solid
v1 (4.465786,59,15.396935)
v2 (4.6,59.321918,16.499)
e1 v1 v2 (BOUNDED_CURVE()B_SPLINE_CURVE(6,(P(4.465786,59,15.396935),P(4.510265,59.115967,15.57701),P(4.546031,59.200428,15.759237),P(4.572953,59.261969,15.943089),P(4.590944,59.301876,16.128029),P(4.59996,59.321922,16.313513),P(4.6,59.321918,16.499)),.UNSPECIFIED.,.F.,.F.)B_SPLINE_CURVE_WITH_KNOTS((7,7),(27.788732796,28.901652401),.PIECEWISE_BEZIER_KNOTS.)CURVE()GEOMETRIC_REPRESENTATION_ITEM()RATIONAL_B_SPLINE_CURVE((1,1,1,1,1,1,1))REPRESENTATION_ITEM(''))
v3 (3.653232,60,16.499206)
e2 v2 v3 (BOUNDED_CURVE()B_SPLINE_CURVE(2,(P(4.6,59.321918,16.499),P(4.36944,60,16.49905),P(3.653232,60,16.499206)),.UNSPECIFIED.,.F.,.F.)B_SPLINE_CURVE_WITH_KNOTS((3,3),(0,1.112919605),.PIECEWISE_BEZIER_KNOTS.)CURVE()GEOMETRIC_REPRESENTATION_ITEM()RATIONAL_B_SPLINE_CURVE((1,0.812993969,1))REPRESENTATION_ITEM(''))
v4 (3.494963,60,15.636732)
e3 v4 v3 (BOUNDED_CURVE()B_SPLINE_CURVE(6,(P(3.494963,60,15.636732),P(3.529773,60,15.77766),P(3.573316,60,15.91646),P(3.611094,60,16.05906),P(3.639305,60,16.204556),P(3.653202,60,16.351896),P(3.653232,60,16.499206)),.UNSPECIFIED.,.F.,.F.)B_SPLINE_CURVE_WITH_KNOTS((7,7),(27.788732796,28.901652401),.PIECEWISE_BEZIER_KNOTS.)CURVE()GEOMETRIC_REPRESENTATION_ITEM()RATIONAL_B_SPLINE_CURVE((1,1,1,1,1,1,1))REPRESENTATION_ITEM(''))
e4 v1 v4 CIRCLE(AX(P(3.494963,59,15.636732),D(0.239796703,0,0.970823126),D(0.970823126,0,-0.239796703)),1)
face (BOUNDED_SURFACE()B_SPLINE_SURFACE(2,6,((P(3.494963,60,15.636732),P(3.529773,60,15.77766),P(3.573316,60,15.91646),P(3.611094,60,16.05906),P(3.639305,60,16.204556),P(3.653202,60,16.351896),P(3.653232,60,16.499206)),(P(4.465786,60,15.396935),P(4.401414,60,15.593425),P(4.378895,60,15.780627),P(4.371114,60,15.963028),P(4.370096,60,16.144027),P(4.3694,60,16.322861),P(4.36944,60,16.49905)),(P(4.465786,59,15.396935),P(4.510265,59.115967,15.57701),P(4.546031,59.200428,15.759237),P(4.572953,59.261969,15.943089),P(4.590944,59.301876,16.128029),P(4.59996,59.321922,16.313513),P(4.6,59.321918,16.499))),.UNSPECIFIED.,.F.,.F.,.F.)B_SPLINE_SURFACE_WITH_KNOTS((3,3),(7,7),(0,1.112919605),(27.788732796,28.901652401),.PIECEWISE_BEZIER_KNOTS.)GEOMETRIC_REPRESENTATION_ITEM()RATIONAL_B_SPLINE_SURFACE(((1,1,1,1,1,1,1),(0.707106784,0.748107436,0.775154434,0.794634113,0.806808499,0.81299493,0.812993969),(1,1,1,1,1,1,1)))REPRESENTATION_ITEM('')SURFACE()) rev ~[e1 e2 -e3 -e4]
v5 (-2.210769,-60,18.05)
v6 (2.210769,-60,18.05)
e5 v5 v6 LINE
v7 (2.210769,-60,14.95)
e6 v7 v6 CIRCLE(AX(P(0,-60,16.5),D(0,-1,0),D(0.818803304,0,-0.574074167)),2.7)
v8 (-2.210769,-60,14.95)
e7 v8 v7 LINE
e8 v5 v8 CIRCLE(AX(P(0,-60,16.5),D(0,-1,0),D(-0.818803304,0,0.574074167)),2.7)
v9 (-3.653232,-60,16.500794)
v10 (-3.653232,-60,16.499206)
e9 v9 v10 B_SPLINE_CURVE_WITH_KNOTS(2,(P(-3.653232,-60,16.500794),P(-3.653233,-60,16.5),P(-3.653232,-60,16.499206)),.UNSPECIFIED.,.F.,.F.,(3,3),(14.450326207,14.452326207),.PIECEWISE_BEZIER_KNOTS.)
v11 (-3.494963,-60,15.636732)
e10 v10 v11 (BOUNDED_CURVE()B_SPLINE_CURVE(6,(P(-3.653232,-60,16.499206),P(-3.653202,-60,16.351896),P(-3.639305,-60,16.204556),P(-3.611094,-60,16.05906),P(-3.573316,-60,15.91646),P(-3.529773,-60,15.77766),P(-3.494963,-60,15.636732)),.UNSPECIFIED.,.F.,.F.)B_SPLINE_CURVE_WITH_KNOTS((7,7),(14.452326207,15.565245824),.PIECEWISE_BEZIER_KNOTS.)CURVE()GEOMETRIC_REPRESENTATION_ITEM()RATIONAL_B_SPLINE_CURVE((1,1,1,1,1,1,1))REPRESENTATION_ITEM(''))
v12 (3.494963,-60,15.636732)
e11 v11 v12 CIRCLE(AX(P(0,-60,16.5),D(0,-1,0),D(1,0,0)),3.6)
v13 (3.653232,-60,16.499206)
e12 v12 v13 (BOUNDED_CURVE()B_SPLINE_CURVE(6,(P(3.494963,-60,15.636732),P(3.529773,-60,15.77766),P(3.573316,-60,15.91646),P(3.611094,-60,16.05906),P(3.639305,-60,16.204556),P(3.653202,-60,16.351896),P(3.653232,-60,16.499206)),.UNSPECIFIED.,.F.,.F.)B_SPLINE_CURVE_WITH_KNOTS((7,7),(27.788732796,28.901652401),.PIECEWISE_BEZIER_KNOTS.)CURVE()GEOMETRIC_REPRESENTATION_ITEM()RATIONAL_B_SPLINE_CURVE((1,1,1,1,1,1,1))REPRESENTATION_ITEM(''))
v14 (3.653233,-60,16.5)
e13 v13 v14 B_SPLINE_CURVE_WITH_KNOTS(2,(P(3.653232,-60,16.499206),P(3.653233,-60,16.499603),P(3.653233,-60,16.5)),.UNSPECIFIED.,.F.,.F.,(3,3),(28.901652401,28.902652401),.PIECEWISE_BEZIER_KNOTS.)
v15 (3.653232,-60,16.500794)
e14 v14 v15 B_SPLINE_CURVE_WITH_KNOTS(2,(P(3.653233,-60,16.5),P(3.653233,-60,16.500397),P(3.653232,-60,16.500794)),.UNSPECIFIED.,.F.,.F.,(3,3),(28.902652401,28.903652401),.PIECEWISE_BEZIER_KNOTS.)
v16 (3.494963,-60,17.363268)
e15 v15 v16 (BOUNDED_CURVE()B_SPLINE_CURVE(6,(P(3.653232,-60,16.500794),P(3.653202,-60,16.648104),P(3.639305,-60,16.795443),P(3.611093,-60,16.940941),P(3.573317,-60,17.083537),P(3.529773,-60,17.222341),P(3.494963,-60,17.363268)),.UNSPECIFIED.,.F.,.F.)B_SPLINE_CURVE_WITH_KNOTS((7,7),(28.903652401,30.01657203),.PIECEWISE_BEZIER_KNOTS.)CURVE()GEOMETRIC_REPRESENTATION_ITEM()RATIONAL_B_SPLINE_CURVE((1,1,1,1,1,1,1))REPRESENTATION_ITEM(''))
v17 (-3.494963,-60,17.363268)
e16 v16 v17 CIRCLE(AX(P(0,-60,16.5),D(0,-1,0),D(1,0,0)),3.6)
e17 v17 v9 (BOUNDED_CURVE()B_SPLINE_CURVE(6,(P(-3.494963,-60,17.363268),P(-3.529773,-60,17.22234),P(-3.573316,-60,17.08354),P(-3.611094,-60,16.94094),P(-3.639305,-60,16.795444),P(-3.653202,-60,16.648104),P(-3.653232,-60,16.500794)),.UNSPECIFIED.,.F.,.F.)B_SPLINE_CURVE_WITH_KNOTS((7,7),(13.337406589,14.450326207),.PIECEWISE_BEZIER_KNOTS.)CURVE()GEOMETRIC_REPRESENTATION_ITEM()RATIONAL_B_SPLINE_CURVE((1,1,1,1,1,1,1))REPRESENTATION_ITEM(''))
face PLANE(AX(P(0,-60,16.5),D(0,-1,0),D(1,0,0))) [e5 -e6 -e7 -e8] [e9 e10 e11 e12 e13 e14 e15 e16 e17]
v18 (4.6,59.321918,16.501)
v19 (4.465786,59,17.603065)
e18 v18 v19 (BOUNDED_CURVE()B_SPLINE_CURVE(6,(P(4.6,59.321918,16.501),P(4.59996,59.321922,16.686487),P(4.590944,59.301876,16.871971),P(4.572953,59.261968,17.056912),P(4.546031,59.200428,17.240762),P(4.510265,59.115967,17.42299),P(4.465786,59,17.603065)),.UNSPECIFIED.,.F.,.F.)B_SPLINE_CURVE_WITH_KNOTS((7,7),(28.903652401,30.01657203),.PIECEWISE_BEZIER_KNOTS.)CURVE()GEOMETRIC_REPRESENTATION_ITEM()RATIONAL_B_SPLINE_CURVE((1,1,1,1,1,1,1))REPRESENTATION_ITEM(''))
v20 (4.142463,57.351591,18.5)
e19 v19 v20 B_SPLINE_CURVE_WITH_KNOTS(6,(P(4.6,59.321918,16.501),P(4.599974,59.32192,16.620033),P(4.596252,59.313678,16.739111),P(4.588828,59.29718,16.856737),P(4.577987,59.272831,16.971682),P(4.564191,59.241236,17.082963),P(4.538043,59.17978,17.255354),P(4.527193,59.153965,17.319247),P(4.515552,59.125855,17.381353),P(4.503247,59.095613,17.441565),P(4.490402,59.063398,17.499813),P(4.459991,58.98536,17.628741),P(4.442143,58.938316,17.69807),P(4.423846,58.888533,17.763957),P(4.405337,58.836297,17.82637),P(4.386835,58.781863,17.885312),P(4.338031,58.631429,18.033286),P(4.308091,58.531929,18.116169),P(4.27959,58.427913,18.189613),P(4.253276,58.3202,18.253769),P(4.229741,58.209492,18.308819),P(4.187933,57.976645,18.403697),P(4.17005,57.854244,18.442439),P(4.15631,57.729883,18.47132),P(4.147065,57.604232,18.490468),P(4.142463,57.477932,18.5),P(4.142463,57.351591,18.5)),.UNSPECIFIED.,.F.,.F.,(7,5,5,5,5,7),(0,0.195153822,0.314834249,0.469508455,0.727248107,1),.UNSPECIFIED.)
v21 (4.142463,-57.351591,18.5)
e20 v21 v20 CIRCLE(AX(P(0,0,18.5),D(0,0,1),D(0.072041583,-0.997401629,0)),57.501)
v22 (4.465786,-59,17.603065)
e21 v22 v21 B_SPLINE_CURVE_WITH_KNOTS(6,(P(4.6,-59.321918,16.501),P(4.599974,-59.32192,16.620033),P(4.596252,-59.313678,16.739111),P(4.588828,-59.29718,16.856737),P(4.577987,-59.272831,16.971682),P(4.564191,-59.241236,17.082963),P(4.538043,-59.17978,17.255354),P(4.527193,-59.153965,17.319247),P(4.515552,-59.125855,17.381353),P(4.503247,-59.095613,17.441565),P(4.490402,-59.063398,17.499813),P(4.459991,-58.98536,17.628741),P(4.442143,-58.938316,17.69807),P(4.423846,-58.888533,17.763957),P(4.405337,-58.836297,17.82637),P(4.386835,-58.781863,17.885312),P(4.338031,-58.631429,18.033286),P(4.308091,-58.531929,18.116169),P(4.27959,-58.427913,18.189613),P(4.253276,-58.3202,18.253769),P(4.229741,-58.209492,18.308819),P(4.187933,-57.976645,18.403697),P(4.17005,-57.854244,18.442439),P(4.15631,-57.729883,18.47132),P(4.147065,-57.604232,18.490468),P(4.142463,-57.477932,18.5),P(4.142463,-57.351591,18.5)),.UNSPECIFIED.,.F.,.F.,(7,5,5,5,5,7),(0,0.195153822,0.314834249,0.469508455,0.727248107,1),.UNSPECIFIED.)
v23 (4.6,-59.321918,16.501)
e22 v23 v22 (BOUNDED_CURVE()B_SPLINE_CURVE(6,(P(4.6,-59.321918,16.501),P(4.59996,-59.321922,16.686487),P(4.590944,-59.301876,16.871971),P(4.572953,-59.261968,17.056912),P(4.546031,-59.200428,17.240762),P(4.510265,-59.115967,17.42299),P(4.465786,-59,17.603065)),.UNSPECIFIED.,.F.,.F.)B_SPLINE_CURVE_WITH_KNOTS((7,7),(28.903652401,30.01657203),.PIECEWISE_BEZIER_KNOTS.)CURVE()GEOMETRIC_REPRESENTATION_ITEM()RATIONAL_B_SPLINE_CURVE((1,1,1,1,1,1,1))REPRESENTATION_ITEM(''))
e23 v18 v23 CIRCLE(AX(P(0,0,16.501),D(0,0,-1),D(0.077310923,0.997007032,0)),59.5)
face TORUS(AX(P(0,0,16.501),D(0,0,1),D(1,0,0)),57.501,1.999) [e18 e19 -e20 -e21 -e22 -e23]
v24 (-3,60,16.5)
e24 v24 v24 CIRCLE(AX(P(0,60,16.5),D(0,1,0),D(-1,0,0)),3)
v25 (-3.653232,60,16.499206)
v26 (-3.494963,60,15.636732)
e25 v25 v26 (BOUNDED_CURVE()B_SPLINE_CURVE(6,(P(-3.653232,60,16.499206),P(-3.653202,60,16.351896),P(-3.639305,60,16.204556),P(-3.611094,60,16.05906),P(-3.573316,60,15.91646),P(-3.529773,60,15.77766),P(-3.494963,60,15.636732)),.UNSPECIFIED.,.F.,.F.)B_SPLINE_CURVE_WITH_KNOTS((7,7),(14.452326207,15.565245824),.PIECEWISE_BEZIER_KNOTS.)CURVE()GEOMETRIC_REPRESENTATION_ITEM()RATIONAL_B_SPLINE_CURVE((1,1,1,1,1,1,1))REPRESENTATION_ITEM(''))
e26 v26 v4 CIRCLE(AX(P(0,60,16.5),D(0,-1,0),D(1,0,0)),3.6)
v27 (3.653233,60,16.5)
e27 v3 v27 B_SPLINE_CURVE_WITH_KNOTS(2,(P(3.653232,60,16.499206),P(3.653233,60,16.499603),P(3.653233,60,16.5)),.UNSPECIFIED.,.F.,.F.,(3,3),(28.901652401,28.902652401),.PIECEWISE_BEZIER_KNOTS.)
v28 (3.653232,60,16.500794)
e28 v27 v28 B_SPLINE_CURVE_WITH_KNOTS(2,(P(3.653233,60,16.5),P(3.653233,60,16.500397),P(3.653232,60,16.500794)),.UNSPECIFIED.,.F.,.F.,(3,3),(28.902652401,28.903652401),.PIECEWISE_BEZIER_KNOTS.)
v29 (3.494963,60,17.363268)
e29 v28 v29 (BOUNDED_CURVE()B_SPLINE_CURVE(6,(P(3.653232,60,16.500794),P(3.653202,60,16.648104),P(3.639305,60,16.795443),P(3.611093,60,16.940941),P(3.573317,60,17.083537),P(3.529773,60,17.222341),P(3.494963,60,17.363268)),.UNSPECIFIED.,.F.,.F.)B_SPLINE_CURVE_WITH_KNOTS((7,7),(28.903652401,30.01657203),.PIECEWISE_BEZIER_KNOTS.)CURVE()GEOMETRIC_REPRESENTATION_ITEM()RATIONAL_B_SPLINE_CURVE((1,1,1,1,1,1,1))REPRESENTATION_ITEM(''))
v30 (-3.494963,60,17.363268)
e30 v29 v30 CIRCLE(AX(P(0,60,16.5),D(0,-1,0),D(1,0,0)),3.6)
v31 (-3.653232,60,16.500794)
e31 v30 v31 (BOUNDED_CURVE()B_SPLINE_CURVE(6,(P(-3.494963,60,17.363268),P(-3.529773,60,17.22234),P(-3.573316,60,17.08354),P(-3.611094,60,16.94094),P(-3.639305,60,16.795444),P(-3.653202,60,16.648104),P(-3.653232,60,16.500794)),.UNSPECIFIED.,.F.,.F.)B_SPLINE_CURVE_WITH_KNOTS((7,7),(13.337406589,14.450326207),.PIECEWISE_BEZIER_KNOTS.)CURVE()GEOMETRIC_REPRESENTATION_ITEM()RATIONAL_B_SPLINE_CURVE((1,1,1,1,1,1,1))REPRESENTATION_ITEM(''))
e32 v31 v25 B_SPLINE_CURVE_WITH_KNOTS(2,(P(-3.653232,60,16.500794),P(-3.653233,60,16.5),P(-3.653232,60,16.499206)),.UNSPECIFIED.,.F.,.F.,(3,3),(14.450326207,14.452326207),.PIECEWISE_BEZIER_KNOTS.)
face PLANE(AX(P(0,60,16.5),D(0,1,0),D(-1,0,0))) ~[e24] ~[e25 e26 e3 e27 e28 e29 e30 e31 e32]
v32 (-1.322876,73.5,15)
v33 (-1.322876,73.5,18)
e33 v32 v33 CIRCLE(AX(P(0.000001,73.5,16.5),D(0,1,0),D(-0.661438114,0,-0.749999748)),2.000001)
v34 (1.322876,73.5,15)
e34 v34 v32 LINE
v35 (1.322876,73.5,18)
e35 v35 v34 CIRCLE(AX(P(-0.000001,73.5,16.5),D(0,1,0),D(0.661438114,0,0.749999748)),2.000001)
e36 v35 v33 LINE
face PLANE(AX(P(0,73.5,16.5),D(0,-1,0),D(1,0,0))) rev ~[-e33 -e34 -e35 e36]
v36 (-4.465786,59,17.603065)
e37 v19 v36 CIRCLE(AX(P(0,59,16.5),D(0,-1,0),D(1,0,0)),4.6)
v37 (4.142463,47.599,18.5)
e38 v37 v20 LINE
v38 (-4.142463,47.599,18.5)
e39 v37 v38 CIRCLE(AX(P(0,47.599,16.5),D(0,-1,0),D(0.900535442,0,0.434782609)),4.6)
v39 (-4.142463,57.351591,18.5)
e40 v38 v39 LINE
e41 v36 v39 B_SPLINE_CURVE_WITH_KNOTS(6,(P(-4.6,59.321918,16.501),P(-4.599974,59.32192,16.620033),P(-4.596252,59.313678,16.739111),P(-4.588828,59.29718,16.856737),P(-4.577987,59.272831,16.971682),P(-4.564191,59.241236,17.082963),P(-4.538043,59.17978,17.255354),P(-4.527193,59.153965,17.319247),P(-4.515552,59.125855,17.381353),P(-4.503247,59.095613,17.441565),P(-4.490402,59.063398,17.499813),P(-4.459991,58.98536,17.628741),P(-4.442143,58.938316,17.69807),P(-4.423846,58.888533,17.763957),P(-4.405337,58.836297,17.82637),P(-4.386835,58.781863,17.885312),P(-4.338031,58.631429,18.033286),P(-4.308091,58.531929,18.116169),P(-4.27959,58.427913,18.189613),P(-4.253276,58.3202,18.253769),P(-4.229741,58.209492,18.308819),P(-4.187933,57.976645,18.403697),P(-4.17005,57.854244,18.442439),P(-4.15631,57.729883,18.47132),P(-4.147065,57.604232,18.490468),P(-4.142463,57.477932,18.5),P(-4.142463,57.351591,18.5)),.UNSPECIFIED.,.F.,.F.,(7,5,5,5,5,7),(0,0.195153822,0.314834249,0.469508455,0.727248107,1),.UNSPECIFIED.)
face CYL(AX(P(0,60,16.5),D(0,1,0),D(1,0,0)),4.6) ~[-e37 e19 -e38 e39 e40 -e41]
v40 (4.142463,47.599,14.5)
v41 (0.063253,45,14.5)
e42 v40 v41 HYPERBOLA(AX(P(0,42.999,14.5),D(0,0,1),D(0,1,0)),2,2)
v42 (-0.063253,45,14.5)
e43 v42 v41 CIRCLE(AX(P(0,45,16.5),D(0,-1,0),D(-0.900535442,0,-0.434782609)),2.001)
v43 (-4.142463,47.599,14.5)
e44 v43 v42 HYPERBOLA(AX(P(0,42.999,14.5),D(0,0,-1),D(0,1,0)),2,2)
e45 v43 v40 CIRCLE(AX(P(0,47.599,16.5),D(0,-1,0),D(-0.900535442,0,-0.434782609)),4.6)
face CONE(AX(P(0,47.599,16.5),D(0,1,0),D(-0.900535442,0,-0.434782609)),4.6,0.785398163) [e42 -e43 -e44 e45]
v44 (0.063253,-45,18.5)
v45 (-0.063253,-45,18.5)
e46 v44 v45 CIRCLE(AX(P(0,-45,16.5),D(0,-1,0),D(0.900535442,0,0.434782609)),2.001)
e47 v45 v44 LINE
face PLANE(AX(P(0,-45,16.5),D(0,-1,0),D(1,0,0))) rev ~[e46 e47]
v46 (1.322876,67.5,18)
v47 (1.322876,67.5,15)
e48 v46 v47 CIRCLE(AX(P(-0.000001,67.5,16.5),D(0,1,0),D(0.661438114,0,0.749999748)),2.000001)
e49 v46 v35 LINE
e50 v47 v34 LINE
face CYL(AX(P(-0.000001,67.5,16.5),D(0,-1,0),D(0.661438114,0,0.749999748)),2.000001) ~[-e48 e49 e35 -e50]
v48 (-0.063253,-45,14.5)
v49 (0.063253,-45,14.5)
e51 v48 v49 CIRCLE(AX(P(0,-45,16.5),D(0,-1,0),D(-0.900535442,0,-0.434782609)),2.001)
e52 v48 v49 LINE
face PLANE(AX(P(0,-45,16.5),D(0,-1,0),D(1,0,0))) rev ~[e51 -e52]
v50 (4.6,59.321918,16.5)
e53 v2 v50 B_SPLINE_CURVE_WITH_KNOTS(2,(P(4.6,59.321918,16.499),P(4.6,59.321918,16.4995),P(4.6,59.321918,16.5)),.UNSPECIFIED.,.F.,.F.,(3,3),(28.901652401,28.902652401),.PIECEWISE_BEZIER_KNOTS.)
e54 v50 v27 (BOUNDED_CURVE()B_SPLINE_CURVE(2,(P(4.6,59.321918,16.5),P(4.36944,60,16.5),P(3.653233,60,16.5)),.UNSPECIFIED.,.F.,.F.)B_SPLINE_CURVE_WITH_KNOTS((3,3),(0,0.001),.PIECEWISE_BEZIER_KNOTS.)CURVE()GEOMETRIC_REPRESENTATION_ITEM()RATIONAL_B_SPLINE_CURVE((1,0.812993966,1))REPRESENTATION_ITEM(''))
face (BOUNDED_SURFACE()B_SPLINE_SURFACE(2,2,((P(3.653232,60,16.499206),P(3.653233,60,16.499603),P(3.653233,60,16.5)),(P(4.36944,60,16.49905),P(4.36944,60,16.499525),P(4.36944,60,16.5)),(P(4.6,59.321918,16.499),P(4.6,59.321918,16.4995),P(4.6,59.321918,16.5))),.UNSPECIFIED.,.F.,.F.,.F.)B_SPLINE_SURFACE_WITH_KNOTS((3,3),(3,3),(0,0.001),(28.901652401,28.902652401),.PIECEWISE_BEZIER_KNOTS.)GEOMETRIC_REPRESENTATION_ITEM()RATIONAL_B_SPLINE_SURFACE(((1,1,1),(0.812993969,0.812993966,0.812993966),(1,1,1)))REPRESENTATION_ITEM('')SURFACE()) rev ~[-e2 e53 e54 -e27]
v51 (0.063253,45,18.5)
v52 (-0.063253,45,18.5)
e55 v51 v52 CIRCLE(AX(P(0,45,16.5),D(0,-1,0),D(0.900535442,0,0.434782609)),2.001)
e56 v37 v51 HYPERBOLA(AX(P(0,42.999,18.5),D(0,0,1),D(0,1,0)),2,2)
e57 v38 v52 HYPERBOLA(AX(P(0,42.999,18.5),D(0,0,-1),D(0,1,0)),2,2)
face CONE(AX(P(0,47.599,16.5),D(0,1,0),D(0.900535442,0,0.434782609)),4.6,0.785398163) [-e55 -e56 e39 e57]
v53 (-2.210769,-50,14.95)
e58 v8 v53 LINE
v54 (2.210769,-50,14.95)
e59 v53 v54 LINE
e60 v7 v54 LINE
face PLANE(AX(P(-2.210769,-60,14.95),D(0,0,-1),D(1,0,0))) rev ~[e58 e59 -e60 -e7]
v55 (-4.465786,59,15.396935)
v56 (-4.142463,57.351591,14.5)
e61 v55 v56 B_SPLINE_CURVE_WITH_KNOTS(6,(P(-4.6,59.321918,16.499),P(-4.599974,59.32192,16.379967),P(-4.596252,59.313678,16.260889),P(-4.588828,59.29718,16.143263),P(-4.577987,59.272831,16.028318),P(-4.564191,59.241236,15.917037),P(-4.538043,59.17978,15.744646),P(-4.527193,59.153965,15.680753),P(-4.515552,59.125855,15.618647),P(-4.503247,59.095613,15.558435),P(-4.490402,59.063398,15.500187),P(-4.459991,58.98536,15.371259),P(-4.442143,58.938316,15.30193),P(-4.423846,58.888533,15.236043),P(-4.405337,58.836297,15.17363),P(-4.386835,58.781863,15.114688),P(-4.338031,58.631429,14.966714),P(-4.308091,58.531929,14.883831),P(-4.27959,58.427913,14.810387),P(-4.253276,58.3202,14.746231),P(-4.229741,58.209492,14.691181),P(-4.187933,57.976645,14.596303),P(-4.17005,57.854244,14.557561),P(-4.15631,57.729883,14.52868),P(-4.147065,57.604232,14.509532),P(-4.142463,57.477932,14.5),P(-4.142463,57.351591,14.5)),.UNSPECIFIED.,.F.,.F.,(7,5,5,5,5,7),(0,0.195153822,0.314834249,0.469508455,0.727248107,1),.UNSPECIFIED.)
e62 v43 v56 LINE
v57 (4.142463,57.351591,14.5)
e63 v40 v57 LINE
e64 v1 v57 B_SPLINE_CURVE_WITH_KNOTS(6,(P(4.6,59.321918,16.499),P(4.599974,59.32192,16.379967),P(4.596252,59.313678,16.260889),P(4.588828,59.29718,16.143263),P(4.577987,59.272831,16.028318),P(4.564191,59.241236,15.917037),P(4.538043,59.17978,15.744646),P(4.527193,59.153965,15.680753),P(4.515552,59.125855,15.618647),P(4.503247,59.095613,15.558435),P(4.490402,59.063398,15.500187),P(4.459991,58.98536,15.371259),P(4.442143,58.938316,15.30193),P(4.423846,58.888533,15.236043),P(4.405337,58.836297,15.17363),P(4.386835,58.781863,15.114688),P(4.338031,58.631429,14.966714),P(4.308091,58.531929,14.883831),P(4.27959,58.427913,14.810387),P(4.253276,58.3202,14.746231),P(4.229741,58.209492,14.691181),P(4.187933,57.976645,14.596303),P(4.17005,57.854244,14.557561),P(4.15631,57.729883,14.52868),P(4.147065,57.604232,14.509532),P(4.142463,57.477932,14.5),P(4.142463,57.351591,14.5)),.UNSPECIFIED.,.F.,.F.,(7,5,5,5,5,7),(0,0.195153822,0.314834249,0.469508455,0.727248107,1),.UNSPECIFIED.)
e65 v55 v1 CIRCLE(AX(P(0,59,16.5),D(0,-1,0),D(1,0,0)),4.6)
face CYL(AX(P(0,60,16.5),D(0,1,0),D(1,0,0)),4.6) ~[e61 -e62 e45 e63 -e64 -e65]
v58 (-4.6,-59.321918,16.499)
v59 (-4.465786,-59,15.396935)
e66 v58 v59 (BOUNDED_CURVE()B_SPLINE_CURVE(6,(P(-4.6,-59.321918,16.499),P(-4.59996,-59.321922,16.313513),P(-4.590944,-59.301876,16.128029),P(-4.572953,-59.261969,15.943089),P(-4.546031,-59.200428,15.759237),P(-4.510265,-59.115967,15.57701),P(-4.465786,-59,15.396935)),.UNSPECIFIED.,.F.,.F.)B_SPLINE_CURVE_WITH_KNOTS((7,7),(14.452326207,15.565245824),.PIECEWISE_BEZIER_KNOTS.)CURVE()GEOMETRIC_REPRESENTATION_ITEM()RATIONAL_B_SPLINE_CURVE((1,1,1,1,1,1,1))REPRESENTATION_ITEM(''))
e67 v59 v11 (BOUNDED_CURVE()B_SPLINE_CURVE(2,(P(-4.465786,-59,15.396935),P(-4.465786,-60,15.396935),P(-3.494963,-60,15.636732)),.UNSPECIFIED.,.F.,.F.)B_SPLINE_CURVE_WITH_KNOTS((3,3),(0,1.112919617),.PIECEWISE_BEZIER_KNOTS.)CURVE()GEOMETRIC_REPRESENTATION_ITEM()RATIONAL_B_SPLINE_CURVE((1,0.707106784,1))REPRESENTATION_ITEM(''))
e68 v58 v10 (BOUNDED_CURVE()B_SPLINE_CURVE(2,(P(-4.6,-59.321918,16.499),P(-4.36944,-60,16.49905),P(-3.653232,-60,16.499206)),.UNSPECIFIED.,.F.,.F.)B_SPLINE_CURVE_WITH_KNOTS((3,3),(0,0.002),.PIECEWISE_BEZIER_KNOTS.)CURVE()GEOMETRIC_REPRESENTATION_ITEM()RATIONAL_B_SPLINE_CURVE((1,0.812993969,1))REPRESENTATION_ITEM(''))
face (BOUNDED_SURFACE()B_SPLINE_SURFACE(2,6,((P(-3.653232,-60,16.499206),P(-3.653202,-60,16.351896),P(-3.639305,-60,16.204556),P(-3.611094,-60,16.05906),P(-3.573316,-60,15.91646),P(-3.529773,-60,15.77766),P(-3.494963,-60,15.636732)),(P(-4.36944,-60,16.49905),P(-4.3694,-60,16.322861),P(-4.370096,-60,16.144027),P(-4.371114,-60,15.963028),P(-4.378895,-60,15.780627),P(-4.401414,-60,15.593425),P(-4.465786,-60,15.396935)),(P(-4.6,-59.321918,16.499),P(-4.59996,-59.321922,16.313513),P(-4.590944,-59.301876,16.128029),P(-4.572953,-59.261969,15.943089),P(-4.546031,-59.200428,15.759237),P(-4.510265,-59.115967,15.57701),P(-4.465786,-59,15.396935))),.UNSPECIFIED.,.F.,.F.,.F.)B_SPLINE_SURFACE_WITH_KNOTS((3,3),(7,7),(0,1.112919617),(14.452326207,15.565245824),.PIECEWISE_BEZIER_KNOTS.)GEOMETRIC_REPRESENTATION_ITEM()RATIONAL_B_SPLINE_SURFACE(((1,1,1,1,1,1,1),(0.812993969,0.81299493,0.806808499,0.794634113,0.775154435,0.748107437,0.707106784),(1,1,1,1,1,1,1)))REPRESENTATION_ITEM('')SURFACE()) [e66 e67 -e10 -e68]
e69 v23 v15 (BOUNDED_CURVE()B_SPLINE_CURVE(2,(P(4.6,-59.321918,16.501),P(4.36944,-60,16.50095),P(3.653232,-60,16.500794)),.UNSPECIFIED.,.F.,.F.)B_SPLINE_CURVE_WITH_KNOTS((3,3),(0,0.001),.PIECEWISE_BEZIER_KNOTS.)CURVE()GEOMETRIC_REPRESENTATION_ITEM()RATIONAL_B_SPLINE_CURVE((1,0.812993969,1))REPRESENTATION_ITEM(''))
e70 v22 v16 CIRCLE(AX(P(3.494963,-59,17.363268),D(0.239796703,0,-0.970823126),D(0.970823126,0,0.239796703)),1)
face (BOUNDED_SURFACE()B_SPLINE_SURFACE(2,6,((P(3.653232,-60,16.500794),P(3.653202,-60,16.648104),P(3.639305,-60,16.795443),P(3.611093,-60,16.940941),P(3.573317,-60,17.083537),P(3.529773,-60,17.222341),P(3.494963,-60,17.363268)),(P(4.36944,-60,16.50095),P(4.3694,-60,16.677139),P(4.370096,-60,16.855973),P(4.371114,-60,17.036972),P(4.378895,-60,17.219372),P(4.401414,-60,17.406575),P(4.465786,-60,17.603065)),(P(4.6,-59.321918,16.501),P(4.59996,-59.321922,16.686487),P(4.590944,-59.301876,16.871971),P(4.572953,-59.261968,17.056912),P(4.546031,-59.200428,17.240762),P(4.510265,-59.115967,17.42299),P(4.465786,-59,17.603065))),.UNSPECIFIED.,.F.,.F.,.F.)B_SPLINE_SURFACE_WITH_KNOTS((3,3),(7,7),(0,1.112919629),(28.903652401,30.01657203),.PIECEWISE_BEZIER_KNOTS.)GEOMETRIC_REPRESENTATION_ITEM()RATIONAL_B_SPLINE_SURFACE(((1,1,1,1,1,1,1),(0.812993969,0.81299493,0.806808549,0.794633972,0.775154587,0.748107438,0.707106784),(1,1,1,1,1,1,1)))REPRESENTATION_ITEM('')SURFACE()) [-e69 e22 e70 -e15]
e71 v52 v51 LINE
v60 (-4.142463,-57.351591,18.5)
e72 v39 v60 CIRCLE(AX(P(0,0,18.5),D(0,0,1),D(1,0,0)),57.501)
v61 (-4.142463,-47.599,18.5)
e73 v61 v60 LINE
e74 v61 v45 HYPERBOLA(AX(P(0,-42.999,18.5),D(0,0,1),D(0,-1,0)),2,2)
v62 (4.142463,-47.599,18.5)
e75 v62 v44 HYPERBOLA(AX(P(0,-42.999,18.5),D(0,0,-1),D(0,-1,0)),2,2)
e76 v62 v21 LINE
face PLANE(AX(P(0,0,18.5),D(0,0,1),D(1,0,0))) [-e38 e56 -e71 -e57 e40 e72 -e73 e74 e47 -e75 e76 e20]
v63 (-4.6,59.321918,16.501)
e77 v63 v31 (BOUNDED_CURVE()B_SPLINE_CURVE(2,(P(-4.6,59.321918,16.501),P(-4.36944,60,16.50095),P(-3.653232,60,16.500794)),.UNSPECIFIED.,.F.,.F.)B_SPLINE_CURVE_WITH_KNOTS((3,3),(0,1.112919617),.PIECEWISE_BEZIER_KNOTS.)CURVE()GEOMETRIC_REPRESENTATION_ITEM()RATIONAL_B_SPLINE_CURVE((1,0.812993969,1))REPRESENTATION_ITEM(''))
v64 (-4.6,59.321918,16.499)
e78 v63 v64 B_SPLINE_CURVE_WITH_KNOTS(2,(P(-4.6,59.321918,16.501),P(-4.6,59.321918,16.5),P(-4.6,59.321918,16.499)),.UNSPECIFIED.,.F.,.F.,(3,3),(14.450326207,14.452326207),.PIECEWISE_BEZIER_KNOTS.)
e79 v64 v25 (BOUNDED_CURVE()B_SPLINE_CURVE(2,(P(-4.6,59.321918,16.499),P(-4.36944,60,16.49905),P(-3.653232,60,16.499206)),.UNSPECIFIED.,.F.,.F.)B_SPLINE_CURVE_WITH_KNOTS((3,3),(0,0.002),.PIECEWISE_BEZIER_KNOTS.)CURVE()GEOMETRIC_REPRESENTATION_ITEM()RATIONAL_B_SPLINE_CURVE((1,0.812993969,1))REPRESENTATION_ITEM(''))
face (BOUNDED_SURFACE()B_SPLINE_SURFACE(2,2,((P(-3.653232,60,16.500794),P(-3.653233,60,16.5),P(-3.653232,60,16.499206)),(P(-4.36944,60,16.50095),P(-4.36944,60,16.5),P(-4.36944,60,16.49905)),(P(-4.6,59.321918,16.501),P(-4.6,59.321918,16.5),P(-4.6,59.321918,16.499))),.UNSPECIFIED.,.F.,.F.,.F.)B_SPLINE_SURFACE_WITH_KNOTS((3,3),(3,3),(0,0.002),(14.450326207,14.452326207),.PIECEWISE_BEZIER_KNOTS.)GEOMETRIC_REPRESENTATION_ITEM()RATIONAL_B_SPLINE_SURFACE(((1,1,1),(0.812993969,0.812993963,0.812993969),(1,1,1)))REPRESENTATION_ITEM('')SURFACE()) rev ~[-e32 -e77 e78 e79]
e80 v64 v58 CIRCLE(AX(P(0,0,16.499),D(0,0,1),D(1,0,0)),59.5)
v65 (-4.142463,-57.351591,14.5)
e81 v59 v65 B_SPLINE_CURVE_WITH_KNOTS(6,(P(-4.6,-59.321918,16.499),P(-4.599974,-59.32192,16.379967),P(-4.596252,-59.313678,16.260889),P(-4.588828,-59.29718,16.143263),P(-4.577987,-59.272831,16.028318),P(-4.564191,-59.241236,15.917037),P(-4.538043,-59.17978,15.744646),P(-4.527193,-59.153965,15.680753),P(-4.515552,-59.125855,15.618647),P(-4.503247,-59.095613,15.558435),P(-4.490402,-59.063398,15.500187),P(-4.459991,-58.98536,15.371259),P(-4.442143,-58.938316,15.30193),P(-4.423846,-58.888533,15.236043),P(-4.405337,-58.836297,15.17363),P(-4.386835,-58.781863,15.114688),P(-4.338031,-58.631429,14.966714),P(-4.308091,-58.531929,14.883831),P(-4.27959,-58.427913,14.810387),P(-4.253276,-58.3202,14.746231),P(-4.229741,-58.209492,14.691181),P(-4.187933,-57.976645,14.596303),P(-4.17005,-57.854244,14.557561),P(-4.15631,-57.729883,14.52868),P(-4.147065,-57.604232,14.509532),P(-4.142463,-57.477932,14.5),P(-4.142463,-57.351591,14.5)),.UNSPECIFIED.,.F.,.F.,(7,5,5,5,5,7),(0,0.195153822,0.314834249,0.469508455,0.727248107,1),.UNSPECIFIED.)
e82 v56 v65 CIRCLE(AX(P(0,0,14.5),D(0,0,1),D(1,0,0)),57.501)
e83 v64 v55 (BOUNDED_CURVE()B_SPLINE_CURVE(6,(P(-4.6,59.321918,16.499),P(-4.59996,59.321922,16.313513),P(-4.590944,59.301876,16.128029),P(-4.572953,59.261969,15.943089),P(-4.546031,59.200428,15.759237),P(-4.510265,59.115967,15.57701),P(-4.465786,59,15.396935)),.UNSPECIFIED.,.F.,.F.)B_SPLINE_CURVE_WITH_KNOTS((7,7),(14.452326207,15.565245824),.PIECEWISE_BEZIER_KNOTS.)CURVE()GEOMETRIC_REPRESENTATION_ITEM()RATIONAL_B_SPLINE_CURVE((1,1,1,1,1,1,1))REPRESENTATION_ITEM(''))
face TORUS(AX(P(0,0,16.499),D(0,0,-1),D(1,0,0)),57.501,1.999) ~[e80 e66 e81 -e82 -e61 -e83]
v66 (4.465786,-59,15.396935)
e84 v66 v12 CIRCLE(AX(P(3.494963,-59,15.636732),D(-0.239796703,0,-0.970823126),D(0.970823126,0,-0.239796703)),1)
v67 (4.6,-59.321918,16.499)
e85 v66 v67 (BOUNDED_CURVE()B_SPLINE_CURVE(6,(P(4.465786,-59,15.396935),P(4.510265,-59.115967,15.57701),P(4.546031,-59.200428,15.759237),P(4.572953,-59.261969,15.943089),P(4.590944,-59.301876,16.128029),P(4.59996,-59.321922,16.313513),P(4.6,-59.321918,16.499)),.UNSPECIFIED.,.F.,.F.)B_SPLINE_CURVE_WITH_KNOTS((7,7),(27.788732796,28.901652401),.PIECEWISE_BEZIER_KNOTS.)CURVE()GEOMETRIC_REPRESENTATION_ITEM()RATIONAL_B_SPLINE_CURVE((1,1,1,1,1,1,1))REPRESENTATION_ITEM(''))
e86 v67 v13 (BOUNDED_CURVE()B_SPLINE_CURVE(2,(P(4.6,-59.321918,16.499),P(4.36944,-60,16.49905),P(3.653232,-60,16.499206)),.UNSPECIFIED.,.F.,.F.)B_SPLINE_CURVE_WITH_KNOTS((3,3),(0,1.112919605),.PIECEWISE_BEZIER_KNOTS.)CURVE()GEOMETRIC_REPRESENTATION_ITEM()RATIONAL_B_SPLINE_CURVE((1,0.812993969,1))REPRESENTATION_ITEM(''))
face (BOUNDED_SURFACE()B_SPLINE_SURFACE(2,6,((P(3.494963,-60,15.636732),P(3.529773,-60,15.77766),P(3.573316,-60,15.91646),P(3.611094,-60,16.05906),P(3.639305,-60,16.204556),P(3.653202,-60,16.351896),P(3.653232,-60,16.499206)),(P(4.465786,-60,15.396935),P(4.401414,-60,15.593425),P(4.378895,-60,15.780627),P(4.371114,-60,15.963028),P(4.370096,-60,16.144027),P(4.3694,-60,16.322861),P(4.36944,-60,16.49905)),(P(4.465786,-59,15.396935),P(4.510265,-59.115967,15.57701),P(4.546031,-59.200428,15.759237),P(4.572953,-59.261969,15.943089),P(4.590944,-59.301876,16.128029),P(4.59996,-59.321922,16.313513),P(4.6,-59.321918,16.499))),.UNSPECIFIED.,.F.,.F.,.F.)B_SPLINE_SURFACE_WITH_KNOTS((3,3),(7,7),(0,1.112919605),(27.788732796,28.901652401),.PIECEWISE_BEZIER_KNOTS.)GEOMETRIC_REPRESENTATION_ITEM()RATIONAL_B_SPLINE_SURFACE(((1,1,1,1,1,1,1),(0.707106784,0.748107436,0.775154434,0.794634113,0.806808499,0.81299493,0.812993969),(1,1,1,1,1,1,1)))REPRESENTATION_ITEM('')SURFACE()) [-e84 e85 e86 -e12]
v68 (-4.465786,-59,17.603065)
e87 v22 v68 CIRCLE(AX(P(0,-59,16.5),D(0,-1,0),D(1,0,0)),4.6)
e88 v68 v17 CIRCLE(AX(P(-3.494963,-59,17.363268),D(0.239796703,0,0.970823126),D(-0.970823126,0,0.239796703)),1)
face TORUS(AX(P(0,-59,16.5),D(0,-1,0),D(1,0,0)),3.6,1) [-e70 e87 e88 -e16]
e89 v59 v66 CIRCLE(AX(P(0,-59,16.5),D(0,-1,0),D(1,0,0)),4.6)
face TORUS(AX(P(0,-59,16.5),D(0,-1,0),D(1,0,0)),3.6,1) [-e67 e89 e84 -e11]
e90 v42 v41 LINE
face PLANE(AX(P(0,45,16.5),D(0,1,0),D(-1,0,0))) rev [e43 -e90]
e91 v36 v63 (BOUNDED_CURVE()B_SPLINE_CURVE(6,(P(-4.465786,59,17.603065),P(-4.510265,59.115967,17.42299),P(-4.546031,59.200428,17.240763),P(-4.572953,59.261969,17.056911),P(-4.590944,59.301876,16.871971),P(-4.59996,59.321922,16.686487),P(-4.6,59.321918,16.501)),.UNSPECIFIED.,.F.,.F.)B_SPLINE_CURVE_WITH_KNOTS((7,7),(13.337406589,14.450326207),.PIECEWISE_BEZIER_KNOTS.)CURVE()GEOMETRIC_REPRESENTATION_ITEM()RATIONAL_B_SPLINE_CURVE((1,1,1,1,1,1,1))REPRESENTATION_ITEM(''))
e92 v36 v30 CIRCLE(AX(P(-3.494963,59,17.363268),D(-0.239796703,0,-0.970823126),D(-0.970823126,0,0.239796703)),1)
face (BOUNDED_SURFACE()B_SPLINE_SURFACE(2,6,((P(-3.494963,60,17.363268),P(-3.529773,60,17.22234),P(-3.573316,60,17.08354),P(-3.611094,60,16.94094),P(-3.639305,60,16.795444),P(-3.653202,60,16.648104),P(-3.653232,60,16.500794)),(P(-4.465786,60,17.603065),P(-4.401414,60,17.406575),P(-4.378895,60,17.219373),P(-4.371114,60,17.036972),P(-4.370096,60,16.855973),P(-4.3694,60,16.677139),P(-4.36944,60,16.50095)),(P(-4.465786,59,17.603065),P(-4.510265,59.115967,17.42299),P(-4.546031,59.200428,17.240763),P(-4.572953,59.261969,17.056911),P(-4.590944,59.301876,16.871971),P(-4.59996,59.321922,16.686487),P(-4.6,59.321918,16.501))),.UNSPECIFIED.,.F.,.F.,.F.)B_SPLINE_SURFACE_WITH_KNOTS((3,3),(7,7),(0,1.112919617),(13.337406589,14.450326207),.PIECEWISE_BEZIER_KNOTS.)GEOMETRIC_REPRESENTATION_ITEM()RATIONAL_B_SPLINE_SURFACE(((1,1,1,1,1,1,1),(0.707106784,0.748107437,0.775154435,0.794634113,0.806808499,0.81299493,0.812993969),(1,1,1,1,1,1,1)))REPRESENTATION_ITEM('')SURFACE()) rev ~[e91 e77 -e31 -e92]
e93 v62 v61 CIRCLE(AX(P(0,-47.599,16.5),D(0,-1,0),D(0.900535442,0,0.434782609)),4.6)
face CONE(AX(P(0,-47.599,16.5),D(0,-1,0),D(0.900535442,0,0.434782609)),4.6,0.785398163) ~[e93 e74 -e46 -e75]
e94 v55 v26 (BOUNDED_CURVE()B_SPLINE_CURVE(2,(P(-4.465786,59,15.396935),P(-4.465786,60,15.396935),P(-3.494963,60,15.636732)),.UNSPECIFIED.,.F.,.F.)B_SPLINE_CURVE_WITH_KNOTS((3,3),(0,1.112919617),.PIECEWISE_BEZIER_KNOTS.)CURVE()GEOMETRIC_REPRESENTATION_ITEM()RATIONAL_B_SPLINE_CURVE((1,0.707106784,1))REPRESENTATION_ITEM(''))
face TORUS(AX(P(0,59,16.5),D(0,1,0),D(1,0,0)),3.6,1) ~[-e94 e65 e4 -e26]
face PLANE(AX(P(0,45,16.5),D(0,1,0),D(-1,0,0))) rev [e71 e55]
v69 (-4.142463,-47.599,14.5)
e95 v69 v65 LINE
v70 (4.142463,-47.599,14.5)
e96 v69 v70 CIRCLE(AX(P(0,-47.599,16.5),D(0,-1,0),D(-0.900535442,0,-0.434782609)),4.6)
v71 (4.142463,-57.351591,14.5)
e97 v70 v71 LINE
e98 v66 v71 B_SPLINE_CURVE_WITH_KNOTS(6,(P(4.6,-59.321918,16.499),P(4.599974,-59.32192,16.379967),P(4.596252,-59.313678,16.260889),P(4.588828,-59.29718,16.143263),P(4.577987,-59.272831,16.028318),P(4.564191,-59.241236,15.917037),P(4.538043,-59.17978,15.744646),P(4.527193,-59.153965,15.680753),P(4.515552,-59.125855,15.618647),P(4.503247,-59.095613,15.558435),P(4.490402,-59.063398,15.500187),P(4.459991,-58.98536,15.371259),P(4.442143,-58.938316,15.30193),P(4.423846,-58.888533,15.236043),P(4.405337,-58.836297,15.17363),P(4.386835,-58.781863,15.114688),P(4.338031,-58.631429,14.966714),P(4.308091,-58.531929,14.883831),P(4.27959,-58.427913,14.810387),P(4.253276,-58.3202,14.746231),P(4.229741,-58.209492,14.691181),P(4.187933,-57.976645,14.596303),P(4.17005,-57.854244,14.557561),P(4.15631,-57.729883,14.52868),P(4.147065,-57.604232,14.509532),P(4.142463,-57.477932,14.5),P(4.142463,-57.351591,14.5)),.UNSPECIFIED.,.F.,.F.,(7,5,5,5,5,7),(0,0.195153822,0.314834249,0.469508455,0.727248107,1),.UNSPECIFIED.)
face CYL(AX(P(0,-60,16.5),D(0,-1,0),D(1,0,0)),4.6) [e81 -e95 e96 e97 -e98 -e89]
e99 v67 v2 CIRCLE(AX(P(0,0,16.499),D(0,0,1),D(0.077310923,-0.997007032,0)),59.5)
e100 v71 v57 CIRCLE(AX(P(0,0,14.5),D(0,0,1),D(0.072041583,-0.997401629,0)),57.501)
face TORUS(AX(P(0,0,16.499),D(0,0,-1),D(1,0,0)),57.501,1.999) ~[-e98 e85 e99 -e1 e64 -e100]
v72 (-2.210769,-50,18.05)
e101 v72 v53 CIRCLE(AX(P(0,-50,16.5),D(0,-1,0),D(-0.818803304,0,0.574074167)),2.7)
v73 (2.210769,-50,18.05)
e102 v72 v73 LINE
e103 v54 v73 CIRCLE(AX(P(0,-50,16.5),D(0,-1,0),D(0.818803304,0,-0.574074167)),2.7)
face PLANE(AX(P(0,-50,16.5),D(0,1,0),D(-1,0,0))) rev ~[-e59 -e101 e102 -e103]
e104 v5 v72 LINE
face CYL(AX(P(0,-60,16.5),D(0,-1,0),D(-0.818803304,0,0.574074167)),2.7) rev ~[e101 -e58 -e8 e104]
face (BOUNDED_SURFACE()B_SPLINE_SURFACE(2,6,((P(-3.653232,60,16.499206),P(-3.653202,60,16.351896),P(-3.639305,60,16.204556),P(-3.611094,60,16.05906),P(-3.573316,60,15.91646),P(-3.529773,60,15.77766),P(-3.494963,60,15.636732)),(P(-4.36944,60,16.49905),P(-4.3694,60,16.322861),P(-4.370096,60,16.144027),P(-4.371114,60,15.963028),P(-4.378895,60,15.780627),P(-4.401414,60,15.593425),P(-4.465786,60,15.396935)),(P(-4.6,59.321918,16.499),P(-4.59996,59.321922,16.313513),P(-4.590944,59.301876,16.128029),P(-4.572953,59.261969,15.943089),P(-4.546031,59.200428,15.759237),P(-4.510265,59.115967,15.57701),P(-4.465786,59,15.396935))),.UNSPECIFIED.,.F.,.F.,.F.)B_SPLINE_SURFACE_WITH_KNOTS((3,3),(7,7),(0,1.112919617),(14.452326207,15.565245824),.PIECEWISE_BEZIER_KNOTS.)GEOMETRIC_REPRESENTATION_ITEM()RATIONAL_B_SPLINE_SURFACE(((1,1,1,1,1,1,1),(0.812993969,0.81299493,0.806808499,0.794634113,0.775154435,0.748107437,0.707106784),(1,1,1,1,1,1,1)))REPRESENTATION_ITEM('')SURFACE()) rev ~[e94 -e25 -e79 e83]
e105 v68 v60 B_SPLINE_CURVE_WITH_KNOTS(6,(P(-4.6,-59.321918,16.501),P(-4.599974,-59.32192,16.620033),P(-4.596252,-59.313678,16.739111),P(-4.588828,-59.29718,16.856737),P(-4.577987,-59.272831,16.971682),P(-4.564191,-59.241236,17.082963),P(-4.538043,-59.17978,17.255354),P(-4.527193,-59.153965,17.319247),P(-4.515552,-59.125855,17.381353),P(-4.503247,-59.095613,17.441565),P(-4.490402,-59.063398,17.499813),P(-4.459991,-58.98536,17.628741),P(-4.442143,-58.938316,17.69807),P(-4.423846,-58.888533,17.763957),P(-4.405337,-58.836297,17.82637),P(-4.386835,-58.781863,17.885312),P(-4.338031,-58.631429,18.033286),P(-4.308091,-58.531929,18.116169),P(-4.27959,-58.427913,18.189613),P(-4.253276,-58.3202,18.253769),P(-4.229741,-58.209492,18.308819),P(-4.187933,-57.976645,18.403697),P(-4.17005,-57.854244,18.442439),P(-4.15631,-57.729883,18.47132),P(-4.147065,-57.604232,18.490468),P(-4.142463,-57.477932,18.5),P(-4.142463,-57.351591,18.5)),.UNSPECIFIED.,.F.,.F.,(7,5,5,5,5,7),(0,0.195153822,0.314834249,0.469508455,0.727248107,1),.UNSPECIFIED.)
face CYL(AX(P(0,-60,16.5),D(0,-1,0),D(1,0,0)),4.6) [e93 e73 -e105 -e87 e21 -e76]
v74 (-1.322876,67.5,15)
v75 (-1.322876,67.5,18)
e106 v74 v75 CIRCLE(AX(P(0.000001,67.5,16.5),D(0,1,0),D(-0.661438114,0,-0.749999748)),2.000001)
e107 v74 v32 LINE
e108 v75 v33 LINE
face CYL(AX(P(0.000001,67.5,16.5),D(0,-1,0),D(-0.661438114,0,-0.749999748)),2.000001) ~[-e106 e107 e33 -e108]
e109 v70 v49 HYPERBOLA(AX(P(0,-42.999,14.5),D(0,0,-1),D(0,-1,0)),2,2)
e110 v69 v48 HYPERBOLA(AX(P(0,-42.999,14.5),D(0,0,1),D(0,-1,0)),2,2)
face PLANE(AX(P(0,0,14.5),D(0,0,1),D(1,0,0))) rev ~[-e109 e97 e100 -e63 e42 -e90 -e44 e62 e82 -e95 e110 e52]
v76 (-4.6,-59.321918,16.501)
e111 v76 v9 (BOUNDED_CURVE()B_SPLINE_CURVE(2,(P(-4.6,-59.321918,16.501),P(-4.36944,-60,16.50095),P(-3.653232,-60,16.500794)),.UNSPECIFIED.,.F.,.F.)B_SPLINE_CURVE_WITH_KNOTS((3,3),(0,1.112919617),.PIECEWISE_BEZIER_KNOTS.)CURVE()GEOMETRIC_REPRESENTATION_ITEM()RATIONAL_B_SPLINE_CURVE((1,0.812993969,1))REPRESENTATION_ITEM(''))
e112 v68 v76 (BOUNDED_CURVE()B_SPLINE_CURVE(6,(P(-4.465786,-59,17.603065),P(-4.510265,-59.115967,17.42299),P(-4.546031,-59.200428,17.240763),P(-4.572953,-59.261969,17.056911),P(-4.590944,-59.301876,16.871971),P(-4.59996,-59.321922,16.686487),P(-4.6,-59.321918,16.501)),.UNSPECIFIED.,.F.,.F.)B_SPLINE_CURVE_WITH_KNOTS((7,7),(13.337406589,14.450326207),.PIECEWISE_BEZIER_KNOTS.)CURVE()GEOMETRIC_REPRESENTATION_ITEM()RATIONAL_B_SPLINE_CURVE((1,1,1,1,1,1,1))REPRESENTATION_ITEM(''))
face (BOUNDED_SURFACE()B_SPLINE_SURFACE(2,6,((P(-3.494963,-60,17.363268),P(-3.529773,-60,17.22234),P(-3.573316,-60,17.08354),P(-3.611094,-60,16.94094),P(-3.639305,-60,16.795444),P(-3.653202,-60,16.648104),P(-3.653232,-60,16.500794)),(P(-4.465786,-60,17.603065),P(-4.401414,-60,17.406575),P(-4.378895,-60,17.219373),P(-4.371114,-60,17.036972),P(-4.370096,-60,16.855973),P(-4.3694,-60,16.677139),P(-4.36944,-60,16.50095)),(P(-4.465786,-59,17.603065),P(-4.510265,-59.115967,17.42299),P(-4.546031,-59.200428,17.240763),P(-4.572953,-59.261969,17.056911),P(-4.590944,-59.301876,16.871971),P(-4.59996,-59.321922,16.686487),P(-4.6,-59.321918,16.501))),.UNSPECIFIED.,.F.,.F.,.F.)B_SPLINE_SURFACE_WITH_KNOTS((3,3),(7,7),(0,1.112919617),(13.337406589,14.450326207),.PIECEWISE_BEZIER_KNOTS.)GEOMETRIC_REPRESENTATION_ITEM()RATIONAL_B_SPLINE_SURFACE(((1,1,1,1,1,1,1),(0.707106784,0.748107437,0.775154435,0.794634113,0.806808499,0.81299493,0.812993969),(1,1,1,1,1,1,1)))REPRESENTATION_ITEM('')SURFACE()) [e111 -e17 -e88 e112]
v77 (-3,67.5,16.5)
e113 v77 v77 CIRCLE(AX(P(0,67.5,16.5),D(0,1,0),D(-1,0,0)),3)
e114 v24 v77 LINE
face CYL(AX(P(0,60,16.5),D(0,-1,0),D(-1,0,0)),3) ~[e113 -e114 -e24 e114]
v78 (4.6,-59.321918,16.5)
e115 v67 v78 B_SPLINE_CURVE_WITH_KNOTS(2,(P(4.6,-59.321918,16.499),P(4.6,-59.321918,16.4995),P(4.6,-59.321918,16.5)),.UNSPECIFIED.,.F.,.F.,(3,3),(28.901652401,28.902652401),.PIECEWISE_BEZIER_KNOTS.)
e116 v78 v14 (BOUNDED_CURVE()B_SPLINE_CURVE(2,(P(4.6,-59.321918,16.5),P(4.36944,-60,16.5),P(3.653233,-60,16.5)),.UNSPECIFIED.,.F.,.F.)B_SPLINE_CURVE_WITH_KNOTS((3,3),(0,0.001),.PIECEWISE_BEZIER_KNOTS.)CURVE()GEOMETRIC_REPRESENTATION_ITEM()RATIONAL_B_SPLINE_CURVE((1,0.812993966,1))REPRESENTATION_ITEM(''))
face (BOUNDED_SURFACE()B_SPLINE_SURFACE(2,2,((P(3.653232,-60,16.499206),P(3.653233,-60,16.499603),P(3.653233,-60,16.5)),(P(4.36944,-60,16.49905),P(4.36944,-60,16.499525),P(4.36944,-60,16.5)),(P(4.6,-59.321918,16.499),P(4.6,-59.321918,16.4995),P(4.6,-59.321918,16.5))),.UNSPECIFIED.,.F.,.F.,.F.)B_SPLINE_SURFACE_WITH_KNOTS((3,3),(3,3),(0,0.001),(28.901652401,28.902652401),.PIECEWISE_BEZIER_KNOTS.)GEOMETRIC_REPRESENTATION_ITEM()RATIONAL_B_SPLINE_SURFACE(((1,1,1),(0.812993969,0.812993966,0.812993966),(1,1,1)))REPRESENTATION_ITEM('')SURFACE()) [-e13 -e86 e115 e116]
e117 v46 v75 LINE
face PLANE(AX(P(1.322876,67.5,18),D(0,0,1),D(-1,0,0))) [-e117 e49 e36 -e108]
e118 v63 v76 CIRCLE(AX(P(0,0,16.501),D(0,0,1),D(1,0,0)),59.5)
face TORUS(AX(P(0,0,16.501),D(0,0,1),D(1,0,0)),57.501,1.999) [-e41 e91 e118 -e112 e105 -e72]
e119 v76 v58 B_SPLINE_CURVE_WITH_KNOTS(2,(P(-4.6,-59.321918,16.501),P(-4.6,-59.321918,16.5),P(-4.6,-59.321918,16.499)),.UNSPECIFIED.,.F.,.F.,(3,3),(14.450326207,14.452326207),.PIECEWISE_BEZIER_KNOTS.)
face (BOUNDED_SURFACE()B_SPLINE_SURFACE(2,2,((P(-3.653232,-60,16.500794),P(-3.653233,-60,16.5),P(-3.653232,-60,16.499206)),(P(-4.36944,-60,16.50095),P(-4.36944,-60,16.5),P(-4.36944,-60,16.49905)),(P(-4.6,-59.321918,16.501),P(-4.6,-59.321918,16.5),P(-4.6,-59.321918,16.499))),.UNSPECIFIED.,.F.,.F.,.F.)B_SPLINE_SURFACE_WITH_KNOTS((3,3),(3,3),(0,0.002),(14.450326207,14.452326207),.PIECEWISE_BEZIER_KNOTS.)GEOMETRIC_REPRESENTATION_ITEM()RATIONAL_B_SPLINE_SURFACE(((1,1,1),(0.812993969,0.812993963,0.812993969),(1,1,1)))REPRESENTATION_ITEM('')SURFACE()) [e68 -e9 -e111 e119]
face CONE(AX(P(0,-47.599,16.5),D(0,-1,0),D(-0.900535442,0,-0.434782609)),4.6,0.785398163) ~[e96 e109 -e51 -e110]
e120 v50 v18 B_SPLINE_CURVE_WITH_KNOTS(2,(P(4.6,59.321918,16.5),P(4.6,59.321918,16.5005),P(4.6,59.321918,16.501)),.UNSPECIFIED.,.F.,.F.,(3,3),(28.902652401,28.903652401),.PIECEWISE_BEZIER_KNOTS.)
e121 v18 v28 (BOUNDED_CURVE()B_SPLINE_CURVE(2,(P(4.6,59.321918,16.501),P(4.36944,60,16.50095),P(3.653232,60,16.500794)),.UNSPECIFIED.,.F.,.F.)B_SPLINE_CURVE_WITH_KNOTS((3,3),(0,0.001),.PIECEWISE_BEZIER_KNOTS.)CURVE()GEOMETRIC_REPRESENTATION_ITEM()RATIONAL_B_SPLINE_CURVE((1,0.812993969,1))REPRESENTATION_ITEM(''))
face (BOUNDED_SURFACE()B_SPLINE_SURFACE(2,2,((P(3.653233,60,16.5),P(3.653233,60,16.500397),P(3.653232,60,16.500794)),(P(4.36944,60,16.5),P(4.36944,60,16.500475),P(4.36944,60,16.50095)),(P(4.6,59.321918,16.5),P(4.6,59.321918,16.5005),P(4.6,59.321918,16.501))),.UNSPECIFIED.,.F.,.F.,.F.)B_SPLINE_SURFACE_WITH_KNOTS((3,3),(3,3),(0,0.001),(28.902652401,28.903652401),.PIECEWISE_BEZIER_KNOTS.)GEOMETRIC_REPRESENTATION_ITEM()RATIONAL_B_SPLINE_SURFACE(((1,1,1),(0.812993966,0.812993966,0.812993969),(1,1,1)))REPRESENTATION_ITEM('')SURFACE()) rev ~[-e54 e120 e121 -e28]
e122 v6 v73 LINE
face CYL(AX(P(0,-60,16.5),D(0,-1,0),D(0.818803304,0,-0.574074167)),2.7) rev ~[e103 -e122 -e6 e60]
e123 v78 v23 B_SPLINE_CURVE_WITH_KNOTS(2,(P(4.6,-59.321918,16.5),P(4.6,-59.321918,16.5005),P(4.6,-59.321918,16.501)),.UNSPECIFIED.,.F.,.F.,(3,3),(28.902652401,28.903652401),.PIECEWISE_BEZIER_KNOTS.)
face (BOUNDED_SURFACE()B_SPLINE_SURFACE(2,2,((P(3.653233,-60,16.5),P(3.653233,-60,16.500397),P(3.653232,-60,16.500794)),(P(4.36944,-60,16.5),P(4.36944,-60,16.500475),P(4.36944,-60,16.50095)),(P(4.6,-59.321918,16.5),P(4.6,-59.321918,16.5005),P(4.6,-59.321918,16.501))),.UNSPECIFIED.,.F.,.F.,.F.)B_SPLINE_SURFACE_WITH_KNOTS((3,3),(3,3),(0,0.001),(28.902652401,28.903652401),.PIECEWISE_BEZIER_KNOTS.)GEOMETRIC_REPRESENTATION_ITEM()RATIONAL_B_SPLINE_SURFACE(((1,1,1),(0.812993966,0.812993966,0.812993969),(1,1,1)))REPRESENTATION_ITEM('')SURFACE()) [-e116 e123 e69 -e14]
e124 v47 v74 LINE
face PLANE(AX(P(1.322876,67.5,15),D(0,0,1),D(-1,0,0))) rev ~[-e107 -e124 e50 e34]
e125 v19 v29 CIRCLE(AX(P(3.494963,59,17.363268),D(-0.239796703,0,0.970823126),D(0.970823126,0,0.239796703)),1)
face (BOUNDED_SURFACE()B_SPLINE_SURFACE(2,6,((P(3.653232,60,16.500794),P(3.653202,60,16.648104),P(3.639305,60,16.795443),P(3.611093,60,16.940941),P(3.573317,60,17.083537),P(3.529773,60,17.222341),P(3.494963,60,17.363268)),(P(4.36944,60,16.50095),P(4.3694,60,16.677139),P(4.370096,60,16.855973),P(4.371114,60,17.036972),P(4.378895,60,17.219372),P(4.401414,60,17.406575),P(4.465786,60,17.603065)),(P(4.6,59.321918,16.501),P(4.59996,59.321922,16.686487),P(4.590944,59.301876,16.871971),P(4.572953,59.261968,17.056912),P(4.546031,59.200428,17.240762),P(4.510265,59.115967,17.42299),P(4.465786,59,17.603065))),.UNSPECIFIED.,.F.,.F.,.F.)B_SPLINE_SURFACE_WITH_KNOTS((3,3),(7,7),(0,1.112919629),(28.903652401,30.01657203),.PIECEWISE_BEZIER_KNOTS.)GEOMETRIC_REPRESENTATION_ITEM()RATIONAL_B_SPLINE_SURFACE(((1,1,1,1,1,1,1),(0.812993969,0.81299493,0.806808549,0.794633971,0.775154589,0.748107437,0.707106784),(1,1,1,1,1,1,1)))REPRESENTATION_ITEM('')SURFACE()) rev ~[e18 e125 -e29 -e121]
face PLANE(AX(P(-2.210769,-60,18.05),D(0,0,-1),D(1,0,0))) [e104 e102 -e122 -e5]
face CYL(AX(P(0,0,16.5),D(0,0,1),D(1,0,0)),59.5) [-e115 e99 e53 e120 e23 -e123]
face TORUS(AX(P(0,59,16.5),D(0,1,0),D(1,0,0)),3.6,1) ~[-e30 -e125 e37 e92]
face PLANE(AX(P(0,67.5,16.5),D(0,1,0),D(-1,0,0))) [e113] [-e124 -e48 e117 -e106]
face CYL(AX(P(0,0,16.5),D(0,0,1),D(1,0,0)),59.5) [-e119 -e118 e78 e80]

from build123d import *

# Parameters (mm, degrees)
SKETCH018_R     = 59.5
PAD003_DEPTH    = 2
FILLET_R        = 1.999
SKETCH019_R     = 4.6
PAD004_DEPTH    = 15
POCKET007_DEPTH = 10
SKETCH022_R     = 3
PAD005_DEPTH    = 7.5
PAD006_DEPTH    = 6
FILLET001_R     = 1
CHAMFER_SIZE    = 2.599


with BuildPart() as part:
    # Sketch018 (on DatumPlane) → Pad003 (new body, symmetric)
    with BuildSketch(Plane.XY.offset(16.5)):
        Circle(SKETCH018_R)
    extrude(amount=PAD003_DEPTH, both=True)

    # Fillet
    fillet_edges = [part.edges().sort_by_distance(p)[0] for p in [
        (59.5, 0, 16.5),
        (-59.5, 0, 14.5),
        (-59.5, 0, 18.5),
    ]]
    fillet(fillet_edges, radius=FILLET_R)

    # Sketch019 (on DatumPlane) → Pad004 (join)
    with BuildSketch(Plane.XZ.offset(60)):
        with Locations((0, 16.5)):
            Circle(SKETCH019_R)
    pad004 = extrude(amount=-PAD004_DEPTH)

    # Mirrored001: Pad004 across XZ
    add(pad004.mirror(Plane.XZ))

    # Sketch020 (on Face19 of Mirrored001) → Pocket007 (cut)
    with BuildSketch(Plane(origin=(0, -60, 16.5), x_dir=(1, 0, 0), z_dir=(0, -1, 0))):
        with BuildLine():
            Line((-2.210769, 1.55), (2.210769, 1.55))
            ThreePointArc((2.210769, -1.55), (2.7, 0), (2.210769, 1.55))
            Line((-2.210769, -1.55), (2.210769, -1.55))
            ThreePointArc((-2.210769, 1.55), (-2.7, 0), (-2.210769, -1.55))
        make_face()
    extrude(amount=-POCKET007_DEPTH, mode=Mode.SUBTRACT)

    # Sketch022 (on Face8 of Pocket007) → Pad005 (join)
    with BuildSketch(Plane(origin=(0, 60, 16.5), x_dir=(-1, 0, 0), z_dir=(0, 1, 0))):
        Circle(SKETCH022_R)
    extrude(amount=PAD005_DEPTH)

    # Sketch023 (on Face21 of Pad005) → Pad006 (join)
    with BuildSketch(Plane(origin=(0, 67.5, 16.5), x_dir=(-1, 0, 0), z_dir=(0, 1, 0))):
        with BuildLine():
            Line((-1.322876, 1.5), (1.322876, 1.5))
            ThreePointArc((1.322876, -1.5), (2, 0), (1.322876, 1.5))
            Line((-1.322876, -1.5), (1.322876, -1.5))
            ThreePointArc((-1.322876, 1.5), (-2, 0), (-1.322876, -1.5))
        make_face()
    extrude(amount=PAD006_DEPTH)

    # Fillet001
    fillet001_edges = [part.edges().sort_by_distance(p)[0] for p in [
        (-4.6, -60, 16.5),
        (-4.6, 60, 16.5),
    ]]
    fillet(fillet001_edges, radius=FILLET001_R)

    # Chamfer
    chamfer_edges = [part.edges().sort_by_distance(p)[0] for p in [
        (0, 45, 21.1),
        (0, -45, 21.1),
        (0, -45, 11.9),
        (0, 45, 11.9),
    ]]
    chamfer(chamfer_edges, length=CHAMFER_SIZE)


solid = part.part
